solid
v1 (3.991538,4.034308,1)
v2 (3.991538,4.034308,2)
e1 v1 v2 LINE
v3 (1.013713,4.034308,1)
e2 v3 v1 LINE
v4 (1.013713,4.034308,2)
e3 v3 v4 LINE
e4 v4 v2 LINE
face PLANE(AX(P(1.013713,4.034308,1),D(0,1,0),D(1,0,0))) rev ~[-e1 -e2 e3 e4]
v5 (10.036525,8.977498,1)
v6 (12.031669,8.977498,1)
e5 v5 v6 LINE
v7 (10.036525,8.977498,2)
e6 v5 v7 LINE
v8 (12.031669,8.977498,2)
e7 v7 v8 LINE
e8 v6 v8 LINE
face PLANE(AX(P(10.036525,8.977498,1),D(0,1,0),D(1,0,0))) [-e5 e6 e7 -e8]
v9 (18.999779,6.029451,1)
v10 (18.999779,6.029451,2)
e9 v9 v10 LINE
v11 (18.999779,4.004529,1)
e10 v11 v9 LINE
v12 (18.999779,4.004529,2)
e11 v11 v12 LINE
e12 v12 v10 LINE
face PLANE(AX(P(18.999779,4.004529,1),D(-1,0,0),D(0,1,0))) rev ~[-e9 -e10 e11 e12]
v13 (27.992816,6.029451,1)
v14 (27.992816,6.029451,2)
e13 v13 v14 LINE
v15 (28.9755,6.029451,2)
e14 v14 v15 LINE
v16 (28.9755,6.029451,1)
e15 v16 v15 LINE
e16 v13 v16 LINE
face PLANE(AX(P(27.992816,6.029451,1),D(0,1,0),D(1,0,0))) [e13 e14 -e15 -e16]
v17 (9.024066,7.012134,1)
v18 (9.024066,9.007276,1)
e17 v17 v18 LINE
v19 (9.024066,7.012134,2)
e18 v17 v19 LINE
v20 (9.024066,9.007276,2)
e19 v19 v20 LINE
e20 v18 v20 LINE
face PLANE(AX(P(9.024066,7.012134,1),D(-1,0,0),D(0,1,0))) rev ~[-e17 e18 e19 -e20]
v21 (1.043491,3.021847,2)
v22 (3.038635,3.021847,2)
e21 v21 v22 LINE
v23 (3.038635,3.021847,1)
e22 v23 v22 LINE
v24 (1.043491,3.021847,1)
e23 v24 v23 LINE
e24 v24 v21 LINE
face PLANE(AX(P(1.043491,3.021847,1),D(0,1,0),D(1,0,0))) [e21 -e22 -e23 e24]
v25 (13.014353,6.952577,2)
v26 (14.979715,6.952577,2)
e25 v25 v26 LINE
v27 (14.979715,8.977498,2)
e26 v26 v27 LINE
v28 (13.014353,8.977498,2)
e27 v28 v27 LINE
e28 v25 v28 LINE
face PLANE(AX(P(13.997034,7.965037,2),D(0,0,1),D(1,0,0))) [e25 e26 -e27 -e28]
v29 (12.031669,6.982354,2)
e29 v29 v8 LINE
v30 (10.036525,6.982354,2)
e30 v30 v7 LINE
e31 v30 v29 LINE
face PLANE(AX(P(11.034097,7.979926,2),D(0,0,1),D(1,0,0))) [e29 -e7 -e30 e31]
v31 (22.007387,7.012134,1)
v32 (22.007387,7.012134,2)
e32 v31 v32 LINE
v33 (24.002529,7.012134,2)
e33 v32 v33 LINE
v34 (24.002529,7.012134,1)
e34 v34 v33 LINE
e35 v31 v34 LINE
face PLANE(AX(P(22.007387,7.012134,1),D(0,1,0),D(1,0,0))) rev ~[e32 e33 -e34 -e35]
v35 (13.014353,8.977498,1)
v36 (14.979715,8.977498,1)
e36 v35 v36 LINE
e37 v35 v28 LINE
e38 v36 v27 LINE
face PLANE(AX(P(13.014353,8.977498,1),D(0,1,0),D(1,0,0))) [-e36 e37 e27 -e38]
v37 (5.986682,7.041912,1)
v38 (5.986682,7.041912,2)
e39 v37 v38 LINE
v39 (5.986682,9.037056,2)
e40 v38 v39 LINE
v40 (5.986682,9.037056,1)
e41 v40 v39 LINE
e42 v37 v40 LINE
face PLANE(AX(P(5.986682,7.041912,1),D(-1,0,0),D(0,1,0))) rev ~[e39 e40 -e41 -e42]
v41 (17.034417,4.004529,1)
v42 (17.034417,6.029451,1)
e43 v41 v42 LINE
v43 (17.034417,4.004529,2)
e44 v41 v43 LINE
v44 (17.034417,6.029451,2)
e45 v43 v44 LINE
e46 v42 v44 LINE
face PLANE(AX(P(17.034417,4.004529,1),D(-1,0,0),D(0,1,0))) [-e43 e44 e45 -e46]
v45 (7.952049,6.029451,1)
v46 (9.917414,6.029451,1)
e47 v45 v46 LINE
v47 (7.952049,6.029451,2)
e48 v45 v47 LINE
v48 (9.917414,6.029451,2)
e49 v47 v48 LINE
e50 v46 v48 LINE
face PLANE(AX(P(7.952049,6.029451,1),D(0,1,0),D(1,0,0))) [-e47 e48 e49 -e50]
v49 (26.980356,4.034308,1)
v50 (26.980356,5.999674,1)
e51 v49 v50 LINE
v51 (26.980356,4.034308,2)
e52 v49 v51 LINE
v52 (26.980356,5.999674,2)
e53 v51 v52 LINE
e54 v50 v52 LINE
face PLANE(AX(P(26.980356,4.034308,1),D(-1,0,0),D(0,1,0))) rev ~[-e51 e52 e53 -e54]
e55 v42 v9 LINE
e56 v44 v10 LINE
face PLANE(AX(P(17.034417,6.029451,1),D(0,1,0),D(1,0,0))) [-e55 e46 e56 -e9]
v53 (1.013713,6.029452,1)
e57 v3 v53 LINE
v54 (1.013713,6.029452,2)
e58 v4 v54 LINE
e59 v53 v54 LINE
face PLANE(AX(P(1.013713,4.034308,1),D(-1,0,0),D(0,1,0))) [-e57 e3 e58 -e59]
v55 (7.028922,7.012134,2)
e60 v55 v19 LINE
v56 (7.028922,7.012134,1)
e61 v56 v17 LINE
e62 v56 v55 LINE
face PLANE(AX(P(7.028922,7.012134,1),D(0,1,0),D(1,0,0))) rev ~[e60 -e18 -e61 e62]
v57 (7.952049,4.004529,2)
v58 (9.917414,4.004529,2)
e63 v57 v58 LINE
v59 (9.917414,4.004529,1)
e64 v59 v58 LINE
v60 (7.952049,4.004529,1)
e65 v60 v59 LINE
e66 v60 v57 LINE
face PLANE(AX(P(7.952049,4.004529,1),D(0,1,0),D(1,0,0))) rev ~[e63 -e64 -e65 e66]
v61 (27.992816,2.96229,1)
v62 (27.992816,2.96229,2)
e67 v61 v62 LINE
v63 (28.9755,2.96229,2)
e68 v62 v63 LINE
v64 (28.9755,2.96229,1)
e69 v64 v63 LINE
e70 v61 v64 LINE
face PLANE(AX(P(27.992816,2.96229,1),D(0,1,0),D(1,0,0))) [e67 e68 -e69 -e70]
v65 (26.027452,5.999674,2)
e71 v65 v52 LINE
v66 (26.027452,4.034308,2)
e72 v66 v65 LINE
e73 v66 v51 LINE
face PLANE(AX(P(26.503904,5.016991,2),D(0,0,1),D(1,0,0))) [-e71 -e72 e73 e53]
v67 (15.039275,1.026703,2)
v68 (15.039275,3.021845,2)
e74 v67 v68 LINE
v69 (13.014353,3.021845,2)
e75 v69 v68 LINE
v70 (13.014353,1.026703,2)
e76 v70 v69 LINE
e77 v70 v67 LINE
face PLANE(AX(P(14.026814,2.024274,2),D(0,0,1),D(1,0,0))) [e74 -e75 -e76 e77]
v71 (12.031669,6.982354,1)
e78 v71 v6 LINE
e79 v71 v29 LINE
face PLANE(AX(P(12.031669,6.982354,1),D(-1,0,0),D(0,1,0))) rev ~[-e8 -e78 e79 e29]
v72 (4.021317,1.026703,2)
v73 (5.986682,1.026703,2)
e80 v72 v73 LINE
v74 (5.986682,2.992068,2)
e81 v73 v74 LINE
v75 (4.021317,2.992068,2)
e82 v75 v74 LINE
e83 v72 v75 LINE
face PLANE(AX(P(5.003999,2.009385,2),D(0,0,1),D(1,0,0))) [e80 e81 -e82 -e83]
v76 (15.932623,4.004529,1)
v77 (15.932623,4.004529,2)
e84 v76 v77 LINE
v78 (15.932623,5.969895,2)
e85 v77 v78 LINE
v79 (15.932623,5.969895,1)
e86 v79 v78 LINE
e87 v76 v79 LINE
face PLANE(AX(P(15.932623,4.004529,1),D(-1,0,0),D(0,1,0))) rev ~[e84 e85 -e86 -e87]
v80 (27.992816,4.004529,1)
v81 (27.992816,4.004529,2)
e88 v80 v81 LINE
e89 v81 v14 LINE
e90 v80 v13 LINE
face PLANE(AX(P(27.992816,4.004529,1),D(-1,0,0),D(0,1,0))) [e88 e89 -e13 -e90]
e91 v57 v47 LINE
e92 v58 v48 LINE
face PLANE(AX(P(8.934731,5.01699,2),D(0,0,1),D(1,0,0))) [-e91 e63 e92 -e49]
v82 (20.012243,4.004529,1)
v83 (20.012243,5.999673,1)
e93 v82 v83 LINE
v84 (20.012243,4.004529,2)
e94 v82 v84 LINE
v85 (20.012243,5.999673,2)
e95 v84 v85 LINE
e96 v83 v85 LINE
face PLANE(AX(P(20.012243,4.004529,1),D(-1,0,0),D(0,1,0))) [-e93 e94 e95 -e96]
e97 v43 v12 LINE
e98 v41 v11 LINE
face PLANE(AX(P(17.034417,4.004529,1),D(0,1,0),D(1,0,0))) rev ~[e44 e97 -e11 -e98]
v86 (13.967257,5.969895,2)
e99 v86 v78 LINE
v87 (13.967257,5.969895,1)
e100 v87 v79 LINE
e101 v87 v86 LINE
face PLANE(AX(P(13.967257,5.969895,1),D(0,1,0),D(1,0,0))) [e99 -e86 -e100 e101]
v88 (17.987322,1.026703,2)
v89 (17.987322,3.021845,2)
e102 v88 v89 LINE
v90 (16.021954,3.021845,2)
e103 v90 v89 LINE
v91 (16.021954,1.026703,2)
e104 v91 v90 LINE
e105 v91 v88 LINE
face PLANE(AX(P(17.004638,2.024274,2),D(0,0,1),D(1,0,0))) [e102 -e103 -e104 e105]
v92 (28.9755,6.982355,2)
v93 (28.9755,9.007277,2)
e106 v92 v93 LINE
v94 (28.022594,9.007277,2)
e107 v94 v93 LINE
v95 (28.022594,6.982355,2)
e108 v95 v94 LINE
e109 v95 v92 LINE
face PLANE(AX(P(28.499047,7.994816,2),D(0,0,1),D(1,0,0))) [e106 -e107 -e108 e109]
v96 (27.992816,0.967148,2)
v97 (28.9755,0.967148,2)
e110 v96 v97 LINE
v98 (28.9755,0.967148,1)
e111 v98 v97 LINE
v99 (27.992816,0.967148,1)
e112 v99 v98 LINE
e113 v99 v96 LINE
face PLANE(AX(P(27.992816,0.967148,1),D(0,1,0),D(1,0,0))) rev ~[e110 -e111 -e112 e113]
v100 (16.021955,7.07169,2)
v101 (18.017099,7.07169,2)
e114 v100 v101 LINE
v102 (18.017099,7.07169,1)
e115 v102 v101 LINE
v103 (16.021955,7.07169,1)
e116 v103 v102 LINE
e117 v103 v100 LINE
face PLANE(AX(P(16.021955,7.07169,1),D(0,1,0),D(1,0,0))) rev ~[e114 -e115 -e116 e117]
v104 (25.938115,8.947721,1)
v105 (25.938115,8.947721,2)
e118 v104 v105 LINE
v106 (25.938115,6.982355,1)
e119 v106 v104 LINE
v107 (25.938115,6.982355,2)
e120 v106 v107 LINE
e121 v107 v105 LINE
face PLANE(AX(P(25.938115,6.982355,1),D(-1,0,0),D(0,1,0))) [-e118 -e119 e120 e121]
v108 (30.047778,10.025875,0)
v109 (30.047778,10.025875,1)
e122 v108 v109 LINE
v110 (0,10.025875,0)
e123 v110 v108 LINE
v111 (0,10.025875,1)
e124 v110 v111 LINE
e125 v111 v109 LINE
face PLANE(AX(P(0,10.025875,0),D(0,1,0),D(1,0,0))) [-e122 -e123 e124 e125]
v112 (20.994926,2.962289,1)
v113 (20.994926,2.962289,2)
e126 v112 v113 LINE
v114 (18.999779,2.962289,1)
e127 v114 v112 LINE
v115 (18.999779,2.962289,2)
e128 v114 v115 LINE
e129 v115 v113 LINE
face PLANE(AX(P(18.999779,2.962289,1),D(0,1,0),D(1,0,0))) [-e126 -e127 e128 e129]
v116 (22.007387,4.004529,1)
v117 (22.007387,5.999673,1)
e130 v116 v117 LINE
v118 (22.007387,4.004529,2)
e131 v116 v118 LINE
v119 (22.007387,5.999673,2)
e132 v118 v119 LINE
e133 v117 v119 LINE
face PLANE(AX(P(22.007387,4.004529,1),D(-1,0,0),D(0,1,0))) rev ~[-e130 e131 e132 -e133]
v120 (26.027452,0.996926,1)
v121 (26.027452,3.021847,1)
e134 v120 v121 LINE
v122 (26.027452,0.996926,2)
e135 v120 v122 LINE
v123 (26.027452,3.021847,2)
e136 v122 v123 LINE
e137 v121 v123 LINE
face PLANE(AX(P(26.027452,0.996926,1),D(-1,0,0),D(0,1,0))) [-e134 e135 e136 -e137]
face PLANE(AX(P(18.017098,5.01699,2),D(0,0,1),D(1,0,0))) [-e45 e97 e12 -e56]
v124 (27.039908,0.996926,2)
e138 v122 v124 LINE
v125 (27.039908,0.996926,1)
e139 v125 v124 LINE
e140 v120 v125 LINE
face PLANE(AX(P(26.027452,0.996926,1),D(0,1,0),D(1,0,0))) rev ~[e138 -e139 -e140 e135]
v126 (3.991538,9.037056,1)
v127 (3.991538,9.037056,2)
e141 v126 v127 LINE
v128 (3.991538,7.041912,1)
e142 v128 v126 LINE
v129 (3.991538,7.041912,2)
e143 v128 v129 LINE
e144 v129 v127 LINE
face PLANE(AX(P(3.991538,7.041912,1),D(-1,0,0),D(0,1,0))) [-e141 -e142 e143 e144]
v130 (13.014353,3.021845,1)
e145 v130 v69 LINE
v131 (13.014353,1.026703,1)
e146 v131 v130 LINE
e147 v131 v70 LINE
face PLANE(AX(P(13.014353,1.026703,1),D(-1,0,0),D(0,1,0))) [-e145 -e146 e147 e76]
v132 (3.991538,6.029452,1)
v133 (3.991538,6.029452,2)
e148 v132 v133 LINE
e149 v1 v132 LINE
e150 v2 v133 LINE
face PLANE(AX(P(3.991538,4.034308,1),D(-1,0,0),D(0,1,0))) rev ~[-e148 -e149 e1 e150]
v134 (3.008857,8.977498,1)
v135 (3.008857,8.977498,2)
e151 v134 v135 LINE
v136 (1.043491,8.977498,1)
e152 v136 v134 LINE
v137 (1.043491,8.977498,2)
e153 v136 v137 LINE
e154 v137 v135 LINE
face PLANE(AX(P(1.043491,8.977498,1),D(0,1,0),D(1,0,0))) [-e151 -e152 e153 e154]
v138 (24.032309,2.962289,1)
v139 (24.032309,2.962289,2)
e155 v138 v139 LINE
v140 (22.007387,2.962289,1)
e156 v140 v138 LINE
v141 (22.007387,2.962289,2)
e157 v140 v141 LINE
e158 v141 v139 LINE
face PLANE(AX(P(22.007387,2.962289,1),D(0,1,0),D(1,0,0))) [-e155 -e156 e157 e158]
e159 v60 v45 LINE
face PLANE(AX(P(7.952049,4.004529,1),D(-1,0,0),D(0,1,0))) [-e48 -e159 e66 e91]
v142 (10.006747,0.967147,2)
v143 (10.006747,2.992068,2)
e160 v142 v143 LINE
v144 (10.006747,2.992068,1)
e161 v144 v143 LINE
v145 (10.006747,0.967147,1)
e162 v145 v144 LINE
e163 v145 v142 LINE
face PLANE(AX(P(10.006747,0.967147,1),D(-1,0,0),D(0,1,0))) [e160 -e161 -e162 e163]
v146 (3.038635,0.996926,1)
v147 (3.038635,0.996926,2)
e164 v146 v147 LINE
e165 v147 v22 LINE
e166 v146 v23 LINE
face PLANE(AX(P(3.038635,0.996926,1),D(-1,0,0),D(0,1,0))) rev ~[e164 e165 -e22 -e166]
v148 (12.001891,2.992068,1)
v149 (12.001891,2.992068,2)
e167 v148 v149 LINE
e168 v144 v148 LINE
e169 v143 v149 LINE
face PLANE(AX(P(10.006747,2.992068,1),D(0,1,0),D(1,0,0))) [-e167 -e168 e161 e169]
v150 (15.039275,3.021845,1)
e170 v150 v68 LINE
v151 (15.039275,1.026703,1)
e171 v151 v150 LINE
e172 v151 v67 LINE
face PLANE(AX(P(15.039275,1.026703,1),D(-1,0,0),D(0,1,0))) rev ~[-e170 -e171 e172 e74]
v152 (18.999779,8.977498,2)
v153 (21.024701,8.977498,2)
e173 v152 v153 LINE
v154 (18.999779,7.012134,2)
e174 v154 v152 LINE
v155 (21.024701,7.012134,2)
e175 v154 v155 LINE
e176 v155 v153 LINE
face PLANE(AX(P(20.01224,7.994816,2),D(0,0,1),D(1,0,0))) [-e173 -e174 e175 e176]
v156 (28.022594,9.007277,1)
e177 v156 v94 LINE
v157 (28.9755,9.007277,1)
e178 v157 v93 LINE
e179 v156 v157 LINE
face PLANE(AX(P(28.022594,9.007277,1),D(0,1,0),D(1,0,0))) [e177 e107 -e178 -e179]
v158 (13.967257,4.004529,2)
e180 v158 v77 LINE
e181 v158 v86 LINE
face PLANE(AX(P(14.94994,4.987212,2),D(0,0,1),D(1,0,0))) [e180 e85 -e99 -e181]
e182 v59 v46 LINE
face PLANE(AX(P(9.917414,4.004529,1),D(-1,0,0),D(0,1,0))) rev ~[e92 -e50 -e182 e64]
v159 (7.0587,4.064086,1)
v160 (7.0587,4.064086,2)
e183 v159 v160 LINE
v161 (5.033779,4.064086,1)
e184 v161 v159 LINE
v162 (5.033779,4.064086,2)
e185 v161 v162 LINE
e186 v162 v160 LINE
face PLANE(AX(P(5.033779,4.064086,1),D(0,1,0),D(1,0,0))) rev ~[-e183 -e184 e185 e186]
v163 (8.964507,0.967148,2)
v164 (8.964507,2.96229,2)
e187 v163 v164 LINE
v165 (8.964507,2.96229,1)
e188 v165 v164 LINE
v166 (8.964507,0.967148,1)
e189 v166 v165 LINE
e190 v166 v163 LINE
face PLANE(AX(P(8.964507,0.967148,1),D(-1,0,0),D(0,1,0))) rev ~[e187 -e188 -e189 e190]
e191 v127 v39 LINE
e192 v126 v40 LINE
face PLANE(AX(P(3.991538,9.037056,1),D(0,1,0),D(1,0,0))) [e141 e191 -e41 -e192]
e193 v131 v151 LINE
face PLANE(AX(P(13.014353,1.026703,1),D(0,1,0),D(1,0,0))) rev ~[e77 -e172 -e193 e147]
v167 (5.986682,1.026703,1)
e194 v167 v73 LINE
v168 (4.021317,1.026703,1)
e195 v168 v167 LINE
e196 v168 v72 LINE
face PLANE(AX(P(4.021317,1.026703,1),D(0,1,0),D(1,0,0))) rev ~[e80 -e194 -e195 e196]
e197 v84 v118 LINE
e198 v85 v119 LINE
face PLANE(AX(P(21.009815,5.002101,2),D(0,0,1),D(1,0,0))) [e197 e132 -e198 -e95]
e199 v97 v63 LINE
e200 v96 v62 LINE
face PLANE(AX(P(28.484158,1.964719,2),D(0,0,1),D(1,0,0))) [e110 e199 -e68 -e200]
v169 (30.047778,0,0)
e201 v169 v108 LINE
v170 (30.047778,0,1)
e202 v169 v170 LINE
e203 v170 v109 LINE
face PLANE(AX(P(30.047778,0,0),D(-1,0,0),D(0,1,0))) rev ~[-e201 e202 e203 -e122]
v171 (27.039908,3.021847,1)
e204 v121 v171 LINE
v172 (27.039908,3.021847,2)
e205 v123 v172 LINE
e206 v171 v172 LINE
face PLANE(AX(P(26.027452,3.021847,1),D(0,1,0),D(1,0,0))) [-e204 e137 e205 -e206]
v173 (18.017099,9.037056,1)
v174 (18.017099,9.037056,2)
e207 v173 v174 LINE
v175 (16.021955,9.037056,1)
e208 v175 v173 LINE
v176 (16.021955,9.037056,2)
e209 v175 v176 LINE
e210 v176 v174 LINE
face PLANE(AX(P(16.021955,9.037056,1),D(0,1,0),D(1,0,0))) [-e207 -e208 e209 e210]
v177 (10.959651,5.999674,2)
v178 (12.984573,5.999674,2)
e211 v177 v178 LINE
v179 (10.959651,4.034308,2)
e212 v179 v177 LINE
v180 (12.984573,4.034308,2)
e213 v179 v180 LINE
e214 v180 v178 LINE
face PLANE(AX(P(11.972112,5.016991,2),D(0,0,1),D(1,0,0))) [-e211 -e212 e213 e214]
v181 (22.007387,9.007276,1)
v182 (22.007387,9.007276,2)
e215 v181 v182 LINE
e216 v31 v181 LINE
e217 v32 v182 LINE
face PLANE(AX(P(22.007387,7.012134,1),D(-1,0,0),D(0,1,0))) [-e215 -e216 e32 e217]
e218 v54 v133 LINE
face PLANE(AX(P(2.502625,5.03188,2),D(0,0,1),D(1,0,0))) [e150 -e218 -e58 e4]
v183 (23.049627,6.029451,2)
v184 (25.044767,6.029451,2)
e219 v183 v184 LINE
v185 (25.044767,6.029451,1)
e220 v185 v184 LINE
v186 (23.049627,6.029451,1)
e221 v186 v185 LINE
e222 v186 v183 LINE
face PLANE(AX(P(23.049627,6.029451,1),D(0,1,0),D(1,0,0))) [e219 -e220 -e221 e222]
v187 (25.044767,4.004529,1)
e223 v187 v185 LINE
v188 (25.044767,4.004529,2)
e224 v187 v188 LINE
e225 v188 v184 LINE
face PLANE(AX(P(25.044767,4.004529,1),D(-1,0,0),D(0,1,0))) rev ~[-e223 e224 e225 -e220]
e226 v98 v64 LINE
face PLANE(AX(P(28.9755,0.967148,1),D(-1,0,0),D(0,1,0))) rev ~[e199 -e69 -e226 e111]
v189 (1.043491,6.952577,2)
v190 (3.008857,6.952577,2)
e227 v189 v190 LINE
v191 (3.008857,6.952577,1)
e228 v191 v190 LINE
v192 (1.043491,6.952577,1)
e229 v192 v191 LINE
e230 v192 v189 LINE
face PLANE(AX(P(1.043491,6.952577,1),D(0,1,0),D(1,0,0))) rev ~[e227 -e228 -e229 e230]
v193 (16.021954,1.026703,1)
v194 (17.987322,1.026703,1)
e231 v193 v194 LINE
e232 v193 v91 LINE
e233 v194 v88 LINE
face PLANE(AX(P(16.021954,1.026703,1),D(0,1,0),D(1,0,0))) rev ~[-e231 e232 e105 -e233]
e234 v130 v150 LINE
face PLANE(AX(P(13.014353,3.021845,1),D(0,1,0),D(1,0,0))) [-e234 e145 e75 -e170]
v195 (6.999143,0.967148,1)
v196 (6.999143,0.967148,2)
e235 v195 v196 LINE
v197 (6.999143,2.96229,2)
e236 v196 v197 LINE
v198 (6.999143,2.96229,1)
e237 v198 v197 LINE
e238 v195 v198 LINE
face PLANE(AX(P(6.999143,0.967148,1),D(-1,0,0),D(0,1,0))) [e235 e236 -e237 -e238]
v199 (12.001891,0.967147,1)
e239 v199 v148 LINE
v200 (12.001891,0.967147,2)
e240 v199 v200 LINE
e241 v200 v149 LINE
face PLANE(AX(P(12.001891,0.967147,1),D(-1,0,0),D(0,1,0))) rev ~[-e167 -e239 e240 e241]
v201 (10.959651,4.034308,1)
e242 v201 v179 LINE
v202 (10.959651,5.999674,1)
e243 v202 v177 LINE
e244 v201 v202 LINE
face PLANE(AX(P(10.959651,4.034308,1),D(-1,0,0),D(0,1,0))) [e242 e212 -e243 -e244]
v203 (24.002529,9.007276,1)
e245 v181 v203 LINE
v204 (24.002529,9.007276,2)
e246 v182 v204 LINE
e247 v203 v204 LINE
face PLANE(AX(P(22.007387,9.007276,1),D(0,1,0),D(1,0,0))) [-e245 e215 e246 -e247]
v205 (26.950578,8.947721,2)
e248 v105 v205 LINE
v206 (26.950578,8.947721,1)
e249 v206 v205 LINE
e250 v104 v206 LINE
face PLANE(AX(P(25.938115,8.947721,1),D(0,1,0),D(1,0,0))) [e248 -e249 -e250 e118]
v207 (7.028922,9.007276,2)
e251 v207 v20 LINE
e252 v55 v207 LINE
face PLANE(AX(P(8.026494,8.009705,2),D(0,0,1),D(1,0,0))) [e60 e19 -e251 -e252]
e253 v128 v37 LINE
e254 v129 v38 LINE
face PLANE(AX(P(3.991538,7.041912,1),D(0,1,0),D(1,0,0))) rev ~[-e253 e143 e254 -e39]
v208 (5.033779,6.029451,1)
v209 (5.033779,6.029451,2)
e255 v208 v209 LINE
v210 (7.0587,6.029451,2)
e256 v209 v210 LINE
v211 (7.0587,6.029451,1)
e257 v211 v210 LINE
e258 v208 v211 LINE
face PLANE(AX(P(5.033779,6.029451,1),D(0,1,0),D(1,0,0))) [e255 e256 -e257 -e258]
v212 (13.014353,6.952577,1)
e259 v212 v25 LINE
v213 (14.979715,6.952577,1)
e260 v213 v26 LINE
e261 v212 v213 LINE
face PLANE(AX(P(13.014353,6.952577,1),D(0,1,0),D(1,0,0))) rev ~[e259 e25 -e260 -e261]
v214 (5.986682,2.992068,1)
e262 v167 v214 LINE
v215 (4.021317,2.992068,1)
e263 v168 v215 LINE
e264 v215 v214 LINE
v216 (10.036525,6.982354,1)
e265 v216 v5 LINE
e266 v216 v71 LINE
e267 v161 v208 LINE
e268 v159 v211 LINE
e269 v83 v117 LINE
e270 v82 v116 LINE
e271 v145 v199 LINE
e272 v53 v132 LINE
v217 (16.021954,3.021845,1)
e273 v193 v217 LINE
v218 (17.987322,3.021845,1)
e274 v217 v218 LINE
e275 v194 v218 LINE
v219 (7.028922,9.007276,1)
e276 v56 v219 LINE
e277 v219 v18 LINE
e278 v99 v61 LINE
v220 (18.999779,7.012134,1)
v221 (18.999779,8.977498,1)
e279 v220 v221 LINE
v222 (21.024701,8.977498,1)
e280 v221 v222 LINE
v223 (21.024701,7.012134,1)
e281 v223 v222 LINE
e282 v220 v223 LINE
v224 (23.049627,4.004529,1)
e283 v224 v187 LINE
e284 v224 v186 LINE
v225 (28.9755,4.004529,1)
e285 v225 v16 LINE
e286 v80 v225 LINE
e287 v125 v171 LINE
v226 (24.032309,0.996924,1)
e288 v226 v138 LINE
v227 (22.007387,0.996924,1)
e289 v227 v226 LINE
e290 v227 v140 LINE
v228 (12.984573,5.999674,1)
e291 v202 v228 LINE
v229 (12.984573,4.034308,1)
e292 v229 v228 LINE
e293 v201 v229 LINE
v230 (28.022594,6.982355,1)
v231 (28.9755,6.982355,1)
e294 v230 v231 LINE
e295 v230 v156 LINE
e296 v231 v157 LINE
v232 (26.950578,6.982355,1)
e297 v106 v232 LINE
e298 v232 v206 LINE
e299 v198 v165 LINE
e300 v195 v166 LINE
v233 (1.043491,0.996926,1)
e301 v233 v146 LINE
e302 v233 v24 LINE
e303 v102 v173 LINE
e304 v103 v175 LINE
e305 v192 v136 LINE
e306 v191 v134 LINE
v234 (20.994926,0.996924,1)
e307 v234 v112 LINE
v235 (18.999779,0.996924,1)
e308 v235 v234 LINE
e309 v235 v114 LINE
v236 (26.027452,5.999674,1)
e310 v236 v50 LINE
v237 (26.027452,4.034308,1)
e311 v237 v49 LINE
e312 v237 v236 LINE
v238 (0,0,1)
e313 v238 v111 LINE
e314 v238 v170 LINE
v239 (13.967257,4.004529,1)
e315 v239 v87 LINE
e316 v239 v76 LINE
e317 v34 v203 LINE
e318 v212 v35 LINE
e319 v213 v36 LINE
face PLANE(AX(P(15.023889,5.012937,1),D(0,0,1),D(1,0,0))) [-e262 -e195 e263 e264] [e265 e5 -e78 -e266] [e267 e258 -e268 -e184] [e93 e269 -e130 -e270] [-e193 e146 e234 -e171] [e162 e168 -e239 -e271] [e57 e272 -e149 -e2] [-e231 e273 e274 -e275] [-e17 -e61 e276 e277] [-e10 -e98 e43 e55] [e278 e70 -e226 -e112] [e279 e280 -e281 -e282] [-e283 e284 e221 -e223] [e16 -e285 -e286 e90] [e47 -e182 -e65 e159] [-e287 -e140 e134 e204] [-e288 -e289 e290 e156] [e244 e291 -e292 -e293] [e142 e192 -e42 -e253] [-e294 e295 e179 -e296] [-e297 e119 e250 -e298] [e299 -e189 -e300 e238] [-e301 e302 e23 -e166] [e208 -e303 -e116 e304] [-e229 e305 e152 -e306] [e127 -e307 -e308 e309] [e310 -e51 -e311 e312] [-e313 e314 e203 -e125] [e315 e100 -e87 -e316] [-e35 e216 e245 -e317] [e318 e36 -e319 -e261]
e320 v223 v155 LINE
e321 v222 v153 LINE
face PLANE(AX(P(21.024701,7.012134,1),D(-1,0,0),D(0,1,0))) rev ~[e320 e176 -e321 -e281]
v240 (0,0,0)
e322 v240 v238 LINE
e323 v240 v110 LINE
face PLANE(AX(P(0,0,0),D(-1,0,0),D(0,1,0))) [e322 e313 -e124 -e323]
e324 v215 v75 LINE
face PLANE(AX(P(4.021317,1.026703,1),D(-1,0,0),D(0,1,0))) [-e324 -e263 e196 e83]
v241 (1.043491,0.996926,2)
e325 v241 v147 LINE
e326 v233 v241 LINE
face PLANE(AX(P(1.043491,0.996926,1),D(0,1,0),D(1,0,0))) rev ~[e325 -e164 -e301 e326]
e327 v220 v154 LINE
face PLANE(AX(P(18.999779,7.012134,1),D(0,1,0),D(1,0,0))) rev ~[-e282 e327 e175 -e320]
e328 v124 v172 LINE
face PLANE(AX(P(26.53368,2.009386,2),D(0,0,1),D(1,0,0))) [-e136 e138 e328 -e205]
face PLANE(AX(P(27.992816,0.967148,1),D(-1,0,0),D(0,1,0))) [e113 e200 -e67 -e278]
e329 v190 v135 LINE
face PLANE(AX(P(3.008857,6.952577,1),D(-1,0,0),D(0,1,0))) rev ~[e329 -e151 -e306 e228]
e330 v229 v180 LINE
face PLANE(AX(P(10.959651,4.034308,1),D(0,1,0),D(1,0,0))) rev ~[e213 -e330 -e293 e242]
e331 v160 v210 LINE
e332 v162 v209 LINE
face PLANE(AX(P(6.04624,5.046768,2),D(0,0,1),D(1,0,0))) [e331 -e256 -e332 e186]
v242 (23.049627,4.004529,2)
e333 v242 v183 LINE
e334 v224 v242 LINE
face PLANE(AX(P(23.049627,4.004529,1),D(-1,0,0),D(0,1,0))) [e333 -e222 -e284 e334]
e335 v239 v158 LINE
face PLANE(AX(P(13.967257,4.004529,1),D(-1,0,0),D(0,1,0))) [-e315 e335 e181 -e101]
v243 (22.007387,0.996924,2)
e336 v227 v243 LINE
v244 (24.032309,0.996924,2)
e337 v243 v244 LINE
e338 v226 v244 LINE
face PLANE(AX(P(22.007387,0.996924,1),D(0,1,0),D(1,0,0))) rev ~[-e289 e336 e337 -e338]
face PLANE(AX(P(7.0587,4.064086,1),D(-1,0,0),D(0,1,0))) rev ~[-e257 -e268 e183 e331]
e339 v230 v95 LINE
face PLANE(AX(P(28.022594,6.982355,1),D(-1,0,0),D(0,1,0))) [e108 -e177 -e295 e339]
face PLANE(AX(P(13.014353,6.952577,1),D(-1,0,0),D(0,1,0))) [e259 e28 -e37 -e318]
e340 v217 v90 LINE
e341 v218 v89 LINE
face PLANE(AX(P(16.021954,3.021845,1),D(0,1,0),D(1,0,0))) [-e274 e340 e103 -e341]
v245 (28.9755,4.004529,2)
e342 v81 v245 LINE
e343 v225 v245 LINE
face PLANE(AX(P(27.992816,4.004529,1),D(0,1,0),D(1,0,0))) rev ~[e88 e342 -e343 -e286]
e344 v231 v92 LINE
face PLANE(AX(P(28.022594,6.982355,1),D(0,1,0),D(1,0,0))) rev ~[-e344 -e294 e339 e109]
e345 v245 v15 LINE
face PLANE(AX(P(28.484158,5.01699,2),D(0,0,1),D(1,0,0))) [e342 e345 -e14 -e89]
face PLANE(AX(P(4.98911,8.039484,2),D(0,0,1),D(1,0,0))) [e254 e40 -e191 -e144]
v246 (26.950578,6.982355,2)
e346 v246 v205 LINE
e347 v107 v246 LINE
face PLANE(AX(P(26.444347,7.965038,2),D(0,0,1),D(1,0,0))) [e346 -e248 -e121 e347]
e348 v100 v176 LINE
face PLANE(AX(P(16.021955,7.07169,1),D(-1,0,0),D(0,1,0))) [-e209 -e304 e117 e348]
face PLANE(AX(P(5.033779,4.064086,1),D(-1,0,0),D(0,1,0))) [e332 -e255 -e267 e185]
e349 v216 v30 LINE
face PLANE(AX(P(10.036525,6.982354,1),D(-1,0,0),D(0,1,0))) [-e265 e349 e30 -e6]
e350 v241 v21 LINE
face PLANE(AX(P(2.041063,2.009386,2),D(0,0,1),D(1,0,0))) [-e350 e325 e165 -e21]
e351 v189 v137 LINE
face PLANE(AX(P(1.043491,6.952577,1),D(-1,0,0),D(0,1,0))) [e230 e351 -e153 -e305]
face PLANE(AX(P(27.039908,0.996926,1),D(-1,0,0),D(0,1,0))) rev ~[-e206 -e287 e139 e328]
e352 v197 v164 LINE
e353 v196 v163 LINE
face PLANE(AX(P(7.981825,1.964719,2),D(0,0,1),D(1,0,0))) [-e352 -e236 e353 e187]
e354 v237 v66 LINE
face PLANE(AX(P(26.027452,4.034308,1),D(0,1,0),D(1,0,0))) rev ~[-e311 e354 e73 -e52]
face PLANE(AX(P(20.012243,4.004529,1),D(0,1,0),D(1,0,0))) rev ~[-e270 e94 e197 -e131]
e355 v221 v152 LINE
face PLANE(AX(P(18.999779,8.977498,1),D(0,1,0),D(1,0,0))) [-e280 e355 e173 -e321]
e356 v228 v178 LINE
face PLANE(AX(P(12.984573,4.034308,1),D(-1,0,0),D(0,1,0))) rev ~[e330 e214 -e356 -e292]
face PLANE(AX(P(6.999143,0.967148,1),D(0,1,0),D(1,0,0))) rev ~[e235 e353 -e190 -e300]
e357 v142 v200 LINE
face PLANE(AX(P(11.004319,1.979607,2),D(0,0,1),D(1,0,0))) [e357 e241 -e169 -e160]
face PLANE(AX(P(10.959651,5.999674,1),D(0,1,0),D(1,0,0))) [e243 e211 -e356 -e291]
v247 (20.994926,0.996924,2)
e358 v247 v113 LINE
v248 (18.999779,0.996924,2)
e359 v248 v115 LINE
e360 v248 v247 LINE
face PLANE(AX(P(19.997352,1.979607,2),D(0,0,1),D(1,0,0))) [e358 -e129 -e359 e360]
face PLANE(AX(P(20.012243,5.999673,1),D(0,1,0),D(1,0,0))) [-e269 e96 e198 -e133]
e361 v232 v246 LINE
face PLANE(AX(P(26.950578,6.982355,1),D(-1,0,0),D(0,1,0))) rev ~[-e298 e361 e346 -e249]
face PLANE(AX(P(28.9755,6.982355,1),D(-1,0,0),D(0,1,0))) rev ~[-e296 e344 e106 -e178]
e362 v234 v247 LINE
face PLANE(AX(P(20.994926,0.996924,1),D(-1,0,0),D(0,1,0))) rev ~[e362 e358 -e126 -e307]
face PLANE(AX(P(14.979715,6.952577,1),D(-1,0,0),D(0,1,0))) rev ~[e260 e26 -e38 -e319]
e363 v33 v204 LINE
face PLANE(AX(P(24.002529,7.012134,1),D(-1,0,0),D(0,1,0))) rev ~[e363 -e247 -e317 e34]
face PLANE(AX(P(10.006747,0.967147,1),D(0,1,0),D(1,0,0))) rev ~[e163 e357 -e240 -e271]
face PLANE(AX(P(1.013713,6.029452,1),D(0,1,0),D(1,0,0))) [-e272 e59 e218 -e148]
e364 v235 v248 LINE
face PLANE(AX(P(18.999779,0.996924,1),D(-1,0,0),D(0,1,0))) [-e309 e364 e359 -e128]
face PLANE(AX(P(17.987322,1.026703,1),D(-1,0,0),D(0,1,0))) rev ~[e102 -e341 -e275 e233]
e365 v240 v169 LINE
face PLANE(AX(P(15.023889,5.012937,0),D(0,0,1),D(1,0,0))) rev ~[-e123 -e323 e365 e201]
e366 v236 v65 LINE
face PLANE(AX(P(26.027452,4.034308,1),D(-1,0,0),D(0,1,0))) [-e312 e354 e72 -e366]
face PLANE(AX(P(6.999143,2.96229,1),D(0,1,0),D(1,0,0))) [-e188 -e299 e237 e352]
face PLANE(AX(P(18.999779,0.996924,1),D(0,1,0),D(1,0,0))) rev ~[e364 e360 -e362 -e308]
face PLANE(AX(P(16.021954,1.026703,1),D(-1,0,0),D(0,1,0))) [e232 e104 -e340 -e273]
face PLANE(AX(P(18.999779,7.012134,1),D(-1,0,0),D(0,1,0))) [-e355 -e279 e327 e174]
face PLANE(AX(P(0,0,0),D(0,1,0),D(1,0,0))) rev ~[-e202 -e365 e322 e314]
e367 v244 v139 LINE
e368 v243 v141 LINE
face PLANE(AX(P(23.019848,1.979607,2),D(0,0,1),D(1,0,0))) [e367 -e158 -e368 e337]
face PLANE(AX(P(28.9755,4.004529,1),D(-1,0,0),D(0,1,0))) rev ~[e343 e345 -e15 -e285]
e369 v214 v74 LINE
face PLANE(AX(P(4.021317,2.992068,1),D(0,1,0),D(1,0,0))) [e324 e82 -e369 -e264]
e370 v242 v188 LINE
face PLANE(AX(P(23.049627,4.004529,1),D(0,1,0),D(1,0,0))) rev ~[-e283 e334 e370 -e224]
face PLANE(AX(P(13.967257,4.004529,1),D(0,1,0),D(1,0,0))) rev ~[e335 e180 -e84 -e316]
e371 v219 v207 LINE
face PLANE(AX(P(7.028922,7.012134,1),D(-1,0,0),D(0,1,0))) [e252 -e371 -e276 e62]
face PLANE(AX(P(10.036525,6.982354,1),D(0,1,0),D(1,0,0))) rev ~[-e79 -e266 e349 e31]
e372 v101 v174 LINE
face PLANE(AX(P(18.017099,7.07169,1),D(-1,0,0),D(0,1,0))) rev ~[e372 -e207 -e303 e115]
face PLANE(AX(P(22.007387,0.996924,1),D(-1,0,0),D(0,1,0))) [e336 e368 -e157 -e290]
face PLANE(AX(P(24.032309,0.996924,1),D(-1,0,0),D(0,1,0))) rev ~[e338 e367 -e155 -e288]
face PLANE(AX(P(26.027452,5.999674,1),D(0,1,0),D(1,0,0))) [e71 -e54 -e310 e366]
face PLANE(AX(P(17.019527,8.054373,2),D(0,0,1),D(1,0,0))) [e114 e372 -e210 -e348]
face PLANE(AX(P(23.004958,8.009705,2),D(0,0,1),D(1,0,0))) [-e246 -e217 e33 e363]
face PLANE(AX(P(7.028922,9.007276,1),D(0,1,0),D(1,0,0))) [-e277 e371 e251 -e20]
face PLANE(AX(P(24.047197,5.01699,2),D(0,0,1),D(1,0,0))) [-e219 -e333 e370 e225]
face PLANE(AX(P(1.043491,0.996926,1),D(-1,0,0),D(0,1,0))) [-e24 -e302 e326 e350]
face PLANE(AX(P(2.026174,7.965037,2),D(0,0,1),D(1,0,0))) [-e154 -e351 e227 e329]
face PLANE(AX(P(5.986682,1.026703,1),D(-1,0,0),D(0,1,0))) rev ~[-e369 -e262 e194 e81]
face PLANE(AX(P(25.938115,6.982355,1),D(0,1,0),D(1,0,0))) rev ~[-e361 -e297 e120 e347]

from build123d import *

# Parameters (mm, degrees)
SKETCH_W       = 30.047779
SKETCH_H       = 10.025875
PAD_DEPTH      = 1
SKETCH001_W    = 1.995144
SKETCH001_H    = 2.024921
SKETCH001_W_2  = 1.965365
SKETCH001_H_2  = 1.965365
SKETCH001_W_3  = 1.965363
SKETCH001_H_3  = 1.995143
SKETCH001_W_4  = 1.995143
SKETCH001_W_5  = 2.024922
SKETCH001_W_6  = 1.965367
SKETCH001_W_7  = 1.995147
SKETCH001_W_8  = 0.982683
SKETCH001_W_9  = 1.012457
SKETCH001_W_10 = 0.952904
SKETCH001_H_4  = 2.024922
SKETCH001_W_11 = 1.012463
SKETCH001_H_5  = 1.965366
SKETCH001_W_12 = 0.952906
SKETCH001_W_13 = 2.977825
SKETCH001_W_14 = 1.965366
SKETCH001_H_6  = 1.995144
SKETCH001_W_15 = 2.024921
SKETCH001_W_16 = 1.965361
SKETCH001_W_17 = 1.99514
SKETCH001_W_18 = 1.965362
SKETCH001_W_19 = 2.024923
SKETCH001_H_7  = 1.965364
SKETCH001_W_20 = 1.995142
PAD001_DEPTH   = 1


with BuildPart() as part:
    # Sketch → Pad (new body)
    with BuildSketch(Plane.XY):
        with Locations((15.023889, 5.012937)):
            Rectangle(SKETCH_W, SKETCH_H)
    extrude(amount=PAD_DEPTH)

    # Sketch001 (on Face6 of Pad) → Pad001 (join)
    with BuildSketch(Plane.XY.offset(1)):
        with Locations((2.041063, 2.009386)):
            Rectangle(SKETCH001_W, SKETCH001_H)
        with Locations((5.003999, 2.009385)):
            Rectangle(SKETCH001_W_2, SKETCH001_H_2)
        with Locations((7.981825, 1.964719)):
            Rectangle(SKETCH001_W_3, SKETCH001_H_3)
        with Locations((11.004319, 1.979607)):
            Rectangle(SKETCH001_W_4, SKETCH001_H)
        with Locations((14.026814, 2.024274)):
            Rectangle(SKETCH001_W_5, SKETCH001_H_3)
        with Locations((17.004638, 2.024274)):
            Rectangle(SKETCH001_W_6, SKETCH001_H_3)
        with Locations((19.997352, 1.979607)):
            Rectangle(SKETCH001_W_7, SKETCH001_H_2)
        with Locations((23.019848, 1.979607)):
            Rectangle(SKETCH001_W_5, SKETCH001_H_2)
        with Locations((28.484158, 1.964719)):
            Rectangle(SKETCH001_W_8, SKETCH001_H_3)
        with Locations((26.53368, 2.009386)):
            Rectangle(SKETCH001_W_9, SKETCH001_H)
        with Locations((26.503904, 5.016991)):
            Rectangle(SKETCH001_W_10, SKETCH001_H_2)
        with Locations((28.484158, 5.01699)):
            Rectangle(SKETCH001_W_8, SKETCH001_H_4)
        with Locations((26.444347, 7.965038)):
            Rectangle(SKETCH001_W_11, SKETCH001_H_5)
        with Locations((28.499047, 7.994816)):
            Rectangle(SKETCH001_W_12, SKETCH001_H_4)
        with Locations((2.502625, 5.03188)):
            Rectangle(SKETCH001_W_13, SKETCH001_H_3)
        with Locations((2.026174, 7.965037)):
            Rectangle(SKETCH001_W_14, SKETCH001_H)
        with Locations((4.98911, 8.039484)):
            Rectangle(SKETCH001_W, SKETCH001_H_6)
        with Locations((6.04624, 5.046768)):
            Rectangle(SKETCH001_W_15, SKETCH001_H_2)
        with Locations((8.934731, 5.01699)):
            Rectangle(SKETCH001_W_2, SKETCH001_H_4)
        with Locations((11.972112, 5.016991)):
            Rectangle(SKETCH001_W_15, SKETCH001_H_2)
        with Locations((14.94994, 4.987212)):
            Rectangle(SKETCH001_W_14, SKETCH001_H_5)
        with Locations((18.017098, 5.01699)):
            Rectangle(SKETCH001_W_16, SKETCH001_H_4)
        with Locations((21.009815, 5.002101)):
            Rectangle(SKETCH001_W, SKETCH001_H_6)
        with Locations((24.047197, 5.01699)):
            Rectangle(SKETCH001_W_17, SKETCH001_H_4)
        with Locations((8.026494, 8.009705)):
            Rectangle(SKETCH001_W, SKETCH001_H_3)
        with Locations((11.034097, 7.979926)):
            Rectangle(SKETCH001_W_4, SKETCH001_H_3)
        with Locations((13.997034, 7.965037)):
            Rectangle(SKETCH001_W_18, SKETCH001_H)
        with Locations((17.019527, 8.054373)):
            Rectangle(SKETCH001_W, SKETCH001_H_5)
        with Locations((20.01224, 7.994816)):
            Rectangle(SKETCH001_W_19, SKETCH001_H_7)
        with Locations((23.004958, 8.009705)):
            Rectangle(SKETCH001_W_20, SKETCH001_H_3)
    extrude(amount=PAD001_DEPTH)


solid = part.part
